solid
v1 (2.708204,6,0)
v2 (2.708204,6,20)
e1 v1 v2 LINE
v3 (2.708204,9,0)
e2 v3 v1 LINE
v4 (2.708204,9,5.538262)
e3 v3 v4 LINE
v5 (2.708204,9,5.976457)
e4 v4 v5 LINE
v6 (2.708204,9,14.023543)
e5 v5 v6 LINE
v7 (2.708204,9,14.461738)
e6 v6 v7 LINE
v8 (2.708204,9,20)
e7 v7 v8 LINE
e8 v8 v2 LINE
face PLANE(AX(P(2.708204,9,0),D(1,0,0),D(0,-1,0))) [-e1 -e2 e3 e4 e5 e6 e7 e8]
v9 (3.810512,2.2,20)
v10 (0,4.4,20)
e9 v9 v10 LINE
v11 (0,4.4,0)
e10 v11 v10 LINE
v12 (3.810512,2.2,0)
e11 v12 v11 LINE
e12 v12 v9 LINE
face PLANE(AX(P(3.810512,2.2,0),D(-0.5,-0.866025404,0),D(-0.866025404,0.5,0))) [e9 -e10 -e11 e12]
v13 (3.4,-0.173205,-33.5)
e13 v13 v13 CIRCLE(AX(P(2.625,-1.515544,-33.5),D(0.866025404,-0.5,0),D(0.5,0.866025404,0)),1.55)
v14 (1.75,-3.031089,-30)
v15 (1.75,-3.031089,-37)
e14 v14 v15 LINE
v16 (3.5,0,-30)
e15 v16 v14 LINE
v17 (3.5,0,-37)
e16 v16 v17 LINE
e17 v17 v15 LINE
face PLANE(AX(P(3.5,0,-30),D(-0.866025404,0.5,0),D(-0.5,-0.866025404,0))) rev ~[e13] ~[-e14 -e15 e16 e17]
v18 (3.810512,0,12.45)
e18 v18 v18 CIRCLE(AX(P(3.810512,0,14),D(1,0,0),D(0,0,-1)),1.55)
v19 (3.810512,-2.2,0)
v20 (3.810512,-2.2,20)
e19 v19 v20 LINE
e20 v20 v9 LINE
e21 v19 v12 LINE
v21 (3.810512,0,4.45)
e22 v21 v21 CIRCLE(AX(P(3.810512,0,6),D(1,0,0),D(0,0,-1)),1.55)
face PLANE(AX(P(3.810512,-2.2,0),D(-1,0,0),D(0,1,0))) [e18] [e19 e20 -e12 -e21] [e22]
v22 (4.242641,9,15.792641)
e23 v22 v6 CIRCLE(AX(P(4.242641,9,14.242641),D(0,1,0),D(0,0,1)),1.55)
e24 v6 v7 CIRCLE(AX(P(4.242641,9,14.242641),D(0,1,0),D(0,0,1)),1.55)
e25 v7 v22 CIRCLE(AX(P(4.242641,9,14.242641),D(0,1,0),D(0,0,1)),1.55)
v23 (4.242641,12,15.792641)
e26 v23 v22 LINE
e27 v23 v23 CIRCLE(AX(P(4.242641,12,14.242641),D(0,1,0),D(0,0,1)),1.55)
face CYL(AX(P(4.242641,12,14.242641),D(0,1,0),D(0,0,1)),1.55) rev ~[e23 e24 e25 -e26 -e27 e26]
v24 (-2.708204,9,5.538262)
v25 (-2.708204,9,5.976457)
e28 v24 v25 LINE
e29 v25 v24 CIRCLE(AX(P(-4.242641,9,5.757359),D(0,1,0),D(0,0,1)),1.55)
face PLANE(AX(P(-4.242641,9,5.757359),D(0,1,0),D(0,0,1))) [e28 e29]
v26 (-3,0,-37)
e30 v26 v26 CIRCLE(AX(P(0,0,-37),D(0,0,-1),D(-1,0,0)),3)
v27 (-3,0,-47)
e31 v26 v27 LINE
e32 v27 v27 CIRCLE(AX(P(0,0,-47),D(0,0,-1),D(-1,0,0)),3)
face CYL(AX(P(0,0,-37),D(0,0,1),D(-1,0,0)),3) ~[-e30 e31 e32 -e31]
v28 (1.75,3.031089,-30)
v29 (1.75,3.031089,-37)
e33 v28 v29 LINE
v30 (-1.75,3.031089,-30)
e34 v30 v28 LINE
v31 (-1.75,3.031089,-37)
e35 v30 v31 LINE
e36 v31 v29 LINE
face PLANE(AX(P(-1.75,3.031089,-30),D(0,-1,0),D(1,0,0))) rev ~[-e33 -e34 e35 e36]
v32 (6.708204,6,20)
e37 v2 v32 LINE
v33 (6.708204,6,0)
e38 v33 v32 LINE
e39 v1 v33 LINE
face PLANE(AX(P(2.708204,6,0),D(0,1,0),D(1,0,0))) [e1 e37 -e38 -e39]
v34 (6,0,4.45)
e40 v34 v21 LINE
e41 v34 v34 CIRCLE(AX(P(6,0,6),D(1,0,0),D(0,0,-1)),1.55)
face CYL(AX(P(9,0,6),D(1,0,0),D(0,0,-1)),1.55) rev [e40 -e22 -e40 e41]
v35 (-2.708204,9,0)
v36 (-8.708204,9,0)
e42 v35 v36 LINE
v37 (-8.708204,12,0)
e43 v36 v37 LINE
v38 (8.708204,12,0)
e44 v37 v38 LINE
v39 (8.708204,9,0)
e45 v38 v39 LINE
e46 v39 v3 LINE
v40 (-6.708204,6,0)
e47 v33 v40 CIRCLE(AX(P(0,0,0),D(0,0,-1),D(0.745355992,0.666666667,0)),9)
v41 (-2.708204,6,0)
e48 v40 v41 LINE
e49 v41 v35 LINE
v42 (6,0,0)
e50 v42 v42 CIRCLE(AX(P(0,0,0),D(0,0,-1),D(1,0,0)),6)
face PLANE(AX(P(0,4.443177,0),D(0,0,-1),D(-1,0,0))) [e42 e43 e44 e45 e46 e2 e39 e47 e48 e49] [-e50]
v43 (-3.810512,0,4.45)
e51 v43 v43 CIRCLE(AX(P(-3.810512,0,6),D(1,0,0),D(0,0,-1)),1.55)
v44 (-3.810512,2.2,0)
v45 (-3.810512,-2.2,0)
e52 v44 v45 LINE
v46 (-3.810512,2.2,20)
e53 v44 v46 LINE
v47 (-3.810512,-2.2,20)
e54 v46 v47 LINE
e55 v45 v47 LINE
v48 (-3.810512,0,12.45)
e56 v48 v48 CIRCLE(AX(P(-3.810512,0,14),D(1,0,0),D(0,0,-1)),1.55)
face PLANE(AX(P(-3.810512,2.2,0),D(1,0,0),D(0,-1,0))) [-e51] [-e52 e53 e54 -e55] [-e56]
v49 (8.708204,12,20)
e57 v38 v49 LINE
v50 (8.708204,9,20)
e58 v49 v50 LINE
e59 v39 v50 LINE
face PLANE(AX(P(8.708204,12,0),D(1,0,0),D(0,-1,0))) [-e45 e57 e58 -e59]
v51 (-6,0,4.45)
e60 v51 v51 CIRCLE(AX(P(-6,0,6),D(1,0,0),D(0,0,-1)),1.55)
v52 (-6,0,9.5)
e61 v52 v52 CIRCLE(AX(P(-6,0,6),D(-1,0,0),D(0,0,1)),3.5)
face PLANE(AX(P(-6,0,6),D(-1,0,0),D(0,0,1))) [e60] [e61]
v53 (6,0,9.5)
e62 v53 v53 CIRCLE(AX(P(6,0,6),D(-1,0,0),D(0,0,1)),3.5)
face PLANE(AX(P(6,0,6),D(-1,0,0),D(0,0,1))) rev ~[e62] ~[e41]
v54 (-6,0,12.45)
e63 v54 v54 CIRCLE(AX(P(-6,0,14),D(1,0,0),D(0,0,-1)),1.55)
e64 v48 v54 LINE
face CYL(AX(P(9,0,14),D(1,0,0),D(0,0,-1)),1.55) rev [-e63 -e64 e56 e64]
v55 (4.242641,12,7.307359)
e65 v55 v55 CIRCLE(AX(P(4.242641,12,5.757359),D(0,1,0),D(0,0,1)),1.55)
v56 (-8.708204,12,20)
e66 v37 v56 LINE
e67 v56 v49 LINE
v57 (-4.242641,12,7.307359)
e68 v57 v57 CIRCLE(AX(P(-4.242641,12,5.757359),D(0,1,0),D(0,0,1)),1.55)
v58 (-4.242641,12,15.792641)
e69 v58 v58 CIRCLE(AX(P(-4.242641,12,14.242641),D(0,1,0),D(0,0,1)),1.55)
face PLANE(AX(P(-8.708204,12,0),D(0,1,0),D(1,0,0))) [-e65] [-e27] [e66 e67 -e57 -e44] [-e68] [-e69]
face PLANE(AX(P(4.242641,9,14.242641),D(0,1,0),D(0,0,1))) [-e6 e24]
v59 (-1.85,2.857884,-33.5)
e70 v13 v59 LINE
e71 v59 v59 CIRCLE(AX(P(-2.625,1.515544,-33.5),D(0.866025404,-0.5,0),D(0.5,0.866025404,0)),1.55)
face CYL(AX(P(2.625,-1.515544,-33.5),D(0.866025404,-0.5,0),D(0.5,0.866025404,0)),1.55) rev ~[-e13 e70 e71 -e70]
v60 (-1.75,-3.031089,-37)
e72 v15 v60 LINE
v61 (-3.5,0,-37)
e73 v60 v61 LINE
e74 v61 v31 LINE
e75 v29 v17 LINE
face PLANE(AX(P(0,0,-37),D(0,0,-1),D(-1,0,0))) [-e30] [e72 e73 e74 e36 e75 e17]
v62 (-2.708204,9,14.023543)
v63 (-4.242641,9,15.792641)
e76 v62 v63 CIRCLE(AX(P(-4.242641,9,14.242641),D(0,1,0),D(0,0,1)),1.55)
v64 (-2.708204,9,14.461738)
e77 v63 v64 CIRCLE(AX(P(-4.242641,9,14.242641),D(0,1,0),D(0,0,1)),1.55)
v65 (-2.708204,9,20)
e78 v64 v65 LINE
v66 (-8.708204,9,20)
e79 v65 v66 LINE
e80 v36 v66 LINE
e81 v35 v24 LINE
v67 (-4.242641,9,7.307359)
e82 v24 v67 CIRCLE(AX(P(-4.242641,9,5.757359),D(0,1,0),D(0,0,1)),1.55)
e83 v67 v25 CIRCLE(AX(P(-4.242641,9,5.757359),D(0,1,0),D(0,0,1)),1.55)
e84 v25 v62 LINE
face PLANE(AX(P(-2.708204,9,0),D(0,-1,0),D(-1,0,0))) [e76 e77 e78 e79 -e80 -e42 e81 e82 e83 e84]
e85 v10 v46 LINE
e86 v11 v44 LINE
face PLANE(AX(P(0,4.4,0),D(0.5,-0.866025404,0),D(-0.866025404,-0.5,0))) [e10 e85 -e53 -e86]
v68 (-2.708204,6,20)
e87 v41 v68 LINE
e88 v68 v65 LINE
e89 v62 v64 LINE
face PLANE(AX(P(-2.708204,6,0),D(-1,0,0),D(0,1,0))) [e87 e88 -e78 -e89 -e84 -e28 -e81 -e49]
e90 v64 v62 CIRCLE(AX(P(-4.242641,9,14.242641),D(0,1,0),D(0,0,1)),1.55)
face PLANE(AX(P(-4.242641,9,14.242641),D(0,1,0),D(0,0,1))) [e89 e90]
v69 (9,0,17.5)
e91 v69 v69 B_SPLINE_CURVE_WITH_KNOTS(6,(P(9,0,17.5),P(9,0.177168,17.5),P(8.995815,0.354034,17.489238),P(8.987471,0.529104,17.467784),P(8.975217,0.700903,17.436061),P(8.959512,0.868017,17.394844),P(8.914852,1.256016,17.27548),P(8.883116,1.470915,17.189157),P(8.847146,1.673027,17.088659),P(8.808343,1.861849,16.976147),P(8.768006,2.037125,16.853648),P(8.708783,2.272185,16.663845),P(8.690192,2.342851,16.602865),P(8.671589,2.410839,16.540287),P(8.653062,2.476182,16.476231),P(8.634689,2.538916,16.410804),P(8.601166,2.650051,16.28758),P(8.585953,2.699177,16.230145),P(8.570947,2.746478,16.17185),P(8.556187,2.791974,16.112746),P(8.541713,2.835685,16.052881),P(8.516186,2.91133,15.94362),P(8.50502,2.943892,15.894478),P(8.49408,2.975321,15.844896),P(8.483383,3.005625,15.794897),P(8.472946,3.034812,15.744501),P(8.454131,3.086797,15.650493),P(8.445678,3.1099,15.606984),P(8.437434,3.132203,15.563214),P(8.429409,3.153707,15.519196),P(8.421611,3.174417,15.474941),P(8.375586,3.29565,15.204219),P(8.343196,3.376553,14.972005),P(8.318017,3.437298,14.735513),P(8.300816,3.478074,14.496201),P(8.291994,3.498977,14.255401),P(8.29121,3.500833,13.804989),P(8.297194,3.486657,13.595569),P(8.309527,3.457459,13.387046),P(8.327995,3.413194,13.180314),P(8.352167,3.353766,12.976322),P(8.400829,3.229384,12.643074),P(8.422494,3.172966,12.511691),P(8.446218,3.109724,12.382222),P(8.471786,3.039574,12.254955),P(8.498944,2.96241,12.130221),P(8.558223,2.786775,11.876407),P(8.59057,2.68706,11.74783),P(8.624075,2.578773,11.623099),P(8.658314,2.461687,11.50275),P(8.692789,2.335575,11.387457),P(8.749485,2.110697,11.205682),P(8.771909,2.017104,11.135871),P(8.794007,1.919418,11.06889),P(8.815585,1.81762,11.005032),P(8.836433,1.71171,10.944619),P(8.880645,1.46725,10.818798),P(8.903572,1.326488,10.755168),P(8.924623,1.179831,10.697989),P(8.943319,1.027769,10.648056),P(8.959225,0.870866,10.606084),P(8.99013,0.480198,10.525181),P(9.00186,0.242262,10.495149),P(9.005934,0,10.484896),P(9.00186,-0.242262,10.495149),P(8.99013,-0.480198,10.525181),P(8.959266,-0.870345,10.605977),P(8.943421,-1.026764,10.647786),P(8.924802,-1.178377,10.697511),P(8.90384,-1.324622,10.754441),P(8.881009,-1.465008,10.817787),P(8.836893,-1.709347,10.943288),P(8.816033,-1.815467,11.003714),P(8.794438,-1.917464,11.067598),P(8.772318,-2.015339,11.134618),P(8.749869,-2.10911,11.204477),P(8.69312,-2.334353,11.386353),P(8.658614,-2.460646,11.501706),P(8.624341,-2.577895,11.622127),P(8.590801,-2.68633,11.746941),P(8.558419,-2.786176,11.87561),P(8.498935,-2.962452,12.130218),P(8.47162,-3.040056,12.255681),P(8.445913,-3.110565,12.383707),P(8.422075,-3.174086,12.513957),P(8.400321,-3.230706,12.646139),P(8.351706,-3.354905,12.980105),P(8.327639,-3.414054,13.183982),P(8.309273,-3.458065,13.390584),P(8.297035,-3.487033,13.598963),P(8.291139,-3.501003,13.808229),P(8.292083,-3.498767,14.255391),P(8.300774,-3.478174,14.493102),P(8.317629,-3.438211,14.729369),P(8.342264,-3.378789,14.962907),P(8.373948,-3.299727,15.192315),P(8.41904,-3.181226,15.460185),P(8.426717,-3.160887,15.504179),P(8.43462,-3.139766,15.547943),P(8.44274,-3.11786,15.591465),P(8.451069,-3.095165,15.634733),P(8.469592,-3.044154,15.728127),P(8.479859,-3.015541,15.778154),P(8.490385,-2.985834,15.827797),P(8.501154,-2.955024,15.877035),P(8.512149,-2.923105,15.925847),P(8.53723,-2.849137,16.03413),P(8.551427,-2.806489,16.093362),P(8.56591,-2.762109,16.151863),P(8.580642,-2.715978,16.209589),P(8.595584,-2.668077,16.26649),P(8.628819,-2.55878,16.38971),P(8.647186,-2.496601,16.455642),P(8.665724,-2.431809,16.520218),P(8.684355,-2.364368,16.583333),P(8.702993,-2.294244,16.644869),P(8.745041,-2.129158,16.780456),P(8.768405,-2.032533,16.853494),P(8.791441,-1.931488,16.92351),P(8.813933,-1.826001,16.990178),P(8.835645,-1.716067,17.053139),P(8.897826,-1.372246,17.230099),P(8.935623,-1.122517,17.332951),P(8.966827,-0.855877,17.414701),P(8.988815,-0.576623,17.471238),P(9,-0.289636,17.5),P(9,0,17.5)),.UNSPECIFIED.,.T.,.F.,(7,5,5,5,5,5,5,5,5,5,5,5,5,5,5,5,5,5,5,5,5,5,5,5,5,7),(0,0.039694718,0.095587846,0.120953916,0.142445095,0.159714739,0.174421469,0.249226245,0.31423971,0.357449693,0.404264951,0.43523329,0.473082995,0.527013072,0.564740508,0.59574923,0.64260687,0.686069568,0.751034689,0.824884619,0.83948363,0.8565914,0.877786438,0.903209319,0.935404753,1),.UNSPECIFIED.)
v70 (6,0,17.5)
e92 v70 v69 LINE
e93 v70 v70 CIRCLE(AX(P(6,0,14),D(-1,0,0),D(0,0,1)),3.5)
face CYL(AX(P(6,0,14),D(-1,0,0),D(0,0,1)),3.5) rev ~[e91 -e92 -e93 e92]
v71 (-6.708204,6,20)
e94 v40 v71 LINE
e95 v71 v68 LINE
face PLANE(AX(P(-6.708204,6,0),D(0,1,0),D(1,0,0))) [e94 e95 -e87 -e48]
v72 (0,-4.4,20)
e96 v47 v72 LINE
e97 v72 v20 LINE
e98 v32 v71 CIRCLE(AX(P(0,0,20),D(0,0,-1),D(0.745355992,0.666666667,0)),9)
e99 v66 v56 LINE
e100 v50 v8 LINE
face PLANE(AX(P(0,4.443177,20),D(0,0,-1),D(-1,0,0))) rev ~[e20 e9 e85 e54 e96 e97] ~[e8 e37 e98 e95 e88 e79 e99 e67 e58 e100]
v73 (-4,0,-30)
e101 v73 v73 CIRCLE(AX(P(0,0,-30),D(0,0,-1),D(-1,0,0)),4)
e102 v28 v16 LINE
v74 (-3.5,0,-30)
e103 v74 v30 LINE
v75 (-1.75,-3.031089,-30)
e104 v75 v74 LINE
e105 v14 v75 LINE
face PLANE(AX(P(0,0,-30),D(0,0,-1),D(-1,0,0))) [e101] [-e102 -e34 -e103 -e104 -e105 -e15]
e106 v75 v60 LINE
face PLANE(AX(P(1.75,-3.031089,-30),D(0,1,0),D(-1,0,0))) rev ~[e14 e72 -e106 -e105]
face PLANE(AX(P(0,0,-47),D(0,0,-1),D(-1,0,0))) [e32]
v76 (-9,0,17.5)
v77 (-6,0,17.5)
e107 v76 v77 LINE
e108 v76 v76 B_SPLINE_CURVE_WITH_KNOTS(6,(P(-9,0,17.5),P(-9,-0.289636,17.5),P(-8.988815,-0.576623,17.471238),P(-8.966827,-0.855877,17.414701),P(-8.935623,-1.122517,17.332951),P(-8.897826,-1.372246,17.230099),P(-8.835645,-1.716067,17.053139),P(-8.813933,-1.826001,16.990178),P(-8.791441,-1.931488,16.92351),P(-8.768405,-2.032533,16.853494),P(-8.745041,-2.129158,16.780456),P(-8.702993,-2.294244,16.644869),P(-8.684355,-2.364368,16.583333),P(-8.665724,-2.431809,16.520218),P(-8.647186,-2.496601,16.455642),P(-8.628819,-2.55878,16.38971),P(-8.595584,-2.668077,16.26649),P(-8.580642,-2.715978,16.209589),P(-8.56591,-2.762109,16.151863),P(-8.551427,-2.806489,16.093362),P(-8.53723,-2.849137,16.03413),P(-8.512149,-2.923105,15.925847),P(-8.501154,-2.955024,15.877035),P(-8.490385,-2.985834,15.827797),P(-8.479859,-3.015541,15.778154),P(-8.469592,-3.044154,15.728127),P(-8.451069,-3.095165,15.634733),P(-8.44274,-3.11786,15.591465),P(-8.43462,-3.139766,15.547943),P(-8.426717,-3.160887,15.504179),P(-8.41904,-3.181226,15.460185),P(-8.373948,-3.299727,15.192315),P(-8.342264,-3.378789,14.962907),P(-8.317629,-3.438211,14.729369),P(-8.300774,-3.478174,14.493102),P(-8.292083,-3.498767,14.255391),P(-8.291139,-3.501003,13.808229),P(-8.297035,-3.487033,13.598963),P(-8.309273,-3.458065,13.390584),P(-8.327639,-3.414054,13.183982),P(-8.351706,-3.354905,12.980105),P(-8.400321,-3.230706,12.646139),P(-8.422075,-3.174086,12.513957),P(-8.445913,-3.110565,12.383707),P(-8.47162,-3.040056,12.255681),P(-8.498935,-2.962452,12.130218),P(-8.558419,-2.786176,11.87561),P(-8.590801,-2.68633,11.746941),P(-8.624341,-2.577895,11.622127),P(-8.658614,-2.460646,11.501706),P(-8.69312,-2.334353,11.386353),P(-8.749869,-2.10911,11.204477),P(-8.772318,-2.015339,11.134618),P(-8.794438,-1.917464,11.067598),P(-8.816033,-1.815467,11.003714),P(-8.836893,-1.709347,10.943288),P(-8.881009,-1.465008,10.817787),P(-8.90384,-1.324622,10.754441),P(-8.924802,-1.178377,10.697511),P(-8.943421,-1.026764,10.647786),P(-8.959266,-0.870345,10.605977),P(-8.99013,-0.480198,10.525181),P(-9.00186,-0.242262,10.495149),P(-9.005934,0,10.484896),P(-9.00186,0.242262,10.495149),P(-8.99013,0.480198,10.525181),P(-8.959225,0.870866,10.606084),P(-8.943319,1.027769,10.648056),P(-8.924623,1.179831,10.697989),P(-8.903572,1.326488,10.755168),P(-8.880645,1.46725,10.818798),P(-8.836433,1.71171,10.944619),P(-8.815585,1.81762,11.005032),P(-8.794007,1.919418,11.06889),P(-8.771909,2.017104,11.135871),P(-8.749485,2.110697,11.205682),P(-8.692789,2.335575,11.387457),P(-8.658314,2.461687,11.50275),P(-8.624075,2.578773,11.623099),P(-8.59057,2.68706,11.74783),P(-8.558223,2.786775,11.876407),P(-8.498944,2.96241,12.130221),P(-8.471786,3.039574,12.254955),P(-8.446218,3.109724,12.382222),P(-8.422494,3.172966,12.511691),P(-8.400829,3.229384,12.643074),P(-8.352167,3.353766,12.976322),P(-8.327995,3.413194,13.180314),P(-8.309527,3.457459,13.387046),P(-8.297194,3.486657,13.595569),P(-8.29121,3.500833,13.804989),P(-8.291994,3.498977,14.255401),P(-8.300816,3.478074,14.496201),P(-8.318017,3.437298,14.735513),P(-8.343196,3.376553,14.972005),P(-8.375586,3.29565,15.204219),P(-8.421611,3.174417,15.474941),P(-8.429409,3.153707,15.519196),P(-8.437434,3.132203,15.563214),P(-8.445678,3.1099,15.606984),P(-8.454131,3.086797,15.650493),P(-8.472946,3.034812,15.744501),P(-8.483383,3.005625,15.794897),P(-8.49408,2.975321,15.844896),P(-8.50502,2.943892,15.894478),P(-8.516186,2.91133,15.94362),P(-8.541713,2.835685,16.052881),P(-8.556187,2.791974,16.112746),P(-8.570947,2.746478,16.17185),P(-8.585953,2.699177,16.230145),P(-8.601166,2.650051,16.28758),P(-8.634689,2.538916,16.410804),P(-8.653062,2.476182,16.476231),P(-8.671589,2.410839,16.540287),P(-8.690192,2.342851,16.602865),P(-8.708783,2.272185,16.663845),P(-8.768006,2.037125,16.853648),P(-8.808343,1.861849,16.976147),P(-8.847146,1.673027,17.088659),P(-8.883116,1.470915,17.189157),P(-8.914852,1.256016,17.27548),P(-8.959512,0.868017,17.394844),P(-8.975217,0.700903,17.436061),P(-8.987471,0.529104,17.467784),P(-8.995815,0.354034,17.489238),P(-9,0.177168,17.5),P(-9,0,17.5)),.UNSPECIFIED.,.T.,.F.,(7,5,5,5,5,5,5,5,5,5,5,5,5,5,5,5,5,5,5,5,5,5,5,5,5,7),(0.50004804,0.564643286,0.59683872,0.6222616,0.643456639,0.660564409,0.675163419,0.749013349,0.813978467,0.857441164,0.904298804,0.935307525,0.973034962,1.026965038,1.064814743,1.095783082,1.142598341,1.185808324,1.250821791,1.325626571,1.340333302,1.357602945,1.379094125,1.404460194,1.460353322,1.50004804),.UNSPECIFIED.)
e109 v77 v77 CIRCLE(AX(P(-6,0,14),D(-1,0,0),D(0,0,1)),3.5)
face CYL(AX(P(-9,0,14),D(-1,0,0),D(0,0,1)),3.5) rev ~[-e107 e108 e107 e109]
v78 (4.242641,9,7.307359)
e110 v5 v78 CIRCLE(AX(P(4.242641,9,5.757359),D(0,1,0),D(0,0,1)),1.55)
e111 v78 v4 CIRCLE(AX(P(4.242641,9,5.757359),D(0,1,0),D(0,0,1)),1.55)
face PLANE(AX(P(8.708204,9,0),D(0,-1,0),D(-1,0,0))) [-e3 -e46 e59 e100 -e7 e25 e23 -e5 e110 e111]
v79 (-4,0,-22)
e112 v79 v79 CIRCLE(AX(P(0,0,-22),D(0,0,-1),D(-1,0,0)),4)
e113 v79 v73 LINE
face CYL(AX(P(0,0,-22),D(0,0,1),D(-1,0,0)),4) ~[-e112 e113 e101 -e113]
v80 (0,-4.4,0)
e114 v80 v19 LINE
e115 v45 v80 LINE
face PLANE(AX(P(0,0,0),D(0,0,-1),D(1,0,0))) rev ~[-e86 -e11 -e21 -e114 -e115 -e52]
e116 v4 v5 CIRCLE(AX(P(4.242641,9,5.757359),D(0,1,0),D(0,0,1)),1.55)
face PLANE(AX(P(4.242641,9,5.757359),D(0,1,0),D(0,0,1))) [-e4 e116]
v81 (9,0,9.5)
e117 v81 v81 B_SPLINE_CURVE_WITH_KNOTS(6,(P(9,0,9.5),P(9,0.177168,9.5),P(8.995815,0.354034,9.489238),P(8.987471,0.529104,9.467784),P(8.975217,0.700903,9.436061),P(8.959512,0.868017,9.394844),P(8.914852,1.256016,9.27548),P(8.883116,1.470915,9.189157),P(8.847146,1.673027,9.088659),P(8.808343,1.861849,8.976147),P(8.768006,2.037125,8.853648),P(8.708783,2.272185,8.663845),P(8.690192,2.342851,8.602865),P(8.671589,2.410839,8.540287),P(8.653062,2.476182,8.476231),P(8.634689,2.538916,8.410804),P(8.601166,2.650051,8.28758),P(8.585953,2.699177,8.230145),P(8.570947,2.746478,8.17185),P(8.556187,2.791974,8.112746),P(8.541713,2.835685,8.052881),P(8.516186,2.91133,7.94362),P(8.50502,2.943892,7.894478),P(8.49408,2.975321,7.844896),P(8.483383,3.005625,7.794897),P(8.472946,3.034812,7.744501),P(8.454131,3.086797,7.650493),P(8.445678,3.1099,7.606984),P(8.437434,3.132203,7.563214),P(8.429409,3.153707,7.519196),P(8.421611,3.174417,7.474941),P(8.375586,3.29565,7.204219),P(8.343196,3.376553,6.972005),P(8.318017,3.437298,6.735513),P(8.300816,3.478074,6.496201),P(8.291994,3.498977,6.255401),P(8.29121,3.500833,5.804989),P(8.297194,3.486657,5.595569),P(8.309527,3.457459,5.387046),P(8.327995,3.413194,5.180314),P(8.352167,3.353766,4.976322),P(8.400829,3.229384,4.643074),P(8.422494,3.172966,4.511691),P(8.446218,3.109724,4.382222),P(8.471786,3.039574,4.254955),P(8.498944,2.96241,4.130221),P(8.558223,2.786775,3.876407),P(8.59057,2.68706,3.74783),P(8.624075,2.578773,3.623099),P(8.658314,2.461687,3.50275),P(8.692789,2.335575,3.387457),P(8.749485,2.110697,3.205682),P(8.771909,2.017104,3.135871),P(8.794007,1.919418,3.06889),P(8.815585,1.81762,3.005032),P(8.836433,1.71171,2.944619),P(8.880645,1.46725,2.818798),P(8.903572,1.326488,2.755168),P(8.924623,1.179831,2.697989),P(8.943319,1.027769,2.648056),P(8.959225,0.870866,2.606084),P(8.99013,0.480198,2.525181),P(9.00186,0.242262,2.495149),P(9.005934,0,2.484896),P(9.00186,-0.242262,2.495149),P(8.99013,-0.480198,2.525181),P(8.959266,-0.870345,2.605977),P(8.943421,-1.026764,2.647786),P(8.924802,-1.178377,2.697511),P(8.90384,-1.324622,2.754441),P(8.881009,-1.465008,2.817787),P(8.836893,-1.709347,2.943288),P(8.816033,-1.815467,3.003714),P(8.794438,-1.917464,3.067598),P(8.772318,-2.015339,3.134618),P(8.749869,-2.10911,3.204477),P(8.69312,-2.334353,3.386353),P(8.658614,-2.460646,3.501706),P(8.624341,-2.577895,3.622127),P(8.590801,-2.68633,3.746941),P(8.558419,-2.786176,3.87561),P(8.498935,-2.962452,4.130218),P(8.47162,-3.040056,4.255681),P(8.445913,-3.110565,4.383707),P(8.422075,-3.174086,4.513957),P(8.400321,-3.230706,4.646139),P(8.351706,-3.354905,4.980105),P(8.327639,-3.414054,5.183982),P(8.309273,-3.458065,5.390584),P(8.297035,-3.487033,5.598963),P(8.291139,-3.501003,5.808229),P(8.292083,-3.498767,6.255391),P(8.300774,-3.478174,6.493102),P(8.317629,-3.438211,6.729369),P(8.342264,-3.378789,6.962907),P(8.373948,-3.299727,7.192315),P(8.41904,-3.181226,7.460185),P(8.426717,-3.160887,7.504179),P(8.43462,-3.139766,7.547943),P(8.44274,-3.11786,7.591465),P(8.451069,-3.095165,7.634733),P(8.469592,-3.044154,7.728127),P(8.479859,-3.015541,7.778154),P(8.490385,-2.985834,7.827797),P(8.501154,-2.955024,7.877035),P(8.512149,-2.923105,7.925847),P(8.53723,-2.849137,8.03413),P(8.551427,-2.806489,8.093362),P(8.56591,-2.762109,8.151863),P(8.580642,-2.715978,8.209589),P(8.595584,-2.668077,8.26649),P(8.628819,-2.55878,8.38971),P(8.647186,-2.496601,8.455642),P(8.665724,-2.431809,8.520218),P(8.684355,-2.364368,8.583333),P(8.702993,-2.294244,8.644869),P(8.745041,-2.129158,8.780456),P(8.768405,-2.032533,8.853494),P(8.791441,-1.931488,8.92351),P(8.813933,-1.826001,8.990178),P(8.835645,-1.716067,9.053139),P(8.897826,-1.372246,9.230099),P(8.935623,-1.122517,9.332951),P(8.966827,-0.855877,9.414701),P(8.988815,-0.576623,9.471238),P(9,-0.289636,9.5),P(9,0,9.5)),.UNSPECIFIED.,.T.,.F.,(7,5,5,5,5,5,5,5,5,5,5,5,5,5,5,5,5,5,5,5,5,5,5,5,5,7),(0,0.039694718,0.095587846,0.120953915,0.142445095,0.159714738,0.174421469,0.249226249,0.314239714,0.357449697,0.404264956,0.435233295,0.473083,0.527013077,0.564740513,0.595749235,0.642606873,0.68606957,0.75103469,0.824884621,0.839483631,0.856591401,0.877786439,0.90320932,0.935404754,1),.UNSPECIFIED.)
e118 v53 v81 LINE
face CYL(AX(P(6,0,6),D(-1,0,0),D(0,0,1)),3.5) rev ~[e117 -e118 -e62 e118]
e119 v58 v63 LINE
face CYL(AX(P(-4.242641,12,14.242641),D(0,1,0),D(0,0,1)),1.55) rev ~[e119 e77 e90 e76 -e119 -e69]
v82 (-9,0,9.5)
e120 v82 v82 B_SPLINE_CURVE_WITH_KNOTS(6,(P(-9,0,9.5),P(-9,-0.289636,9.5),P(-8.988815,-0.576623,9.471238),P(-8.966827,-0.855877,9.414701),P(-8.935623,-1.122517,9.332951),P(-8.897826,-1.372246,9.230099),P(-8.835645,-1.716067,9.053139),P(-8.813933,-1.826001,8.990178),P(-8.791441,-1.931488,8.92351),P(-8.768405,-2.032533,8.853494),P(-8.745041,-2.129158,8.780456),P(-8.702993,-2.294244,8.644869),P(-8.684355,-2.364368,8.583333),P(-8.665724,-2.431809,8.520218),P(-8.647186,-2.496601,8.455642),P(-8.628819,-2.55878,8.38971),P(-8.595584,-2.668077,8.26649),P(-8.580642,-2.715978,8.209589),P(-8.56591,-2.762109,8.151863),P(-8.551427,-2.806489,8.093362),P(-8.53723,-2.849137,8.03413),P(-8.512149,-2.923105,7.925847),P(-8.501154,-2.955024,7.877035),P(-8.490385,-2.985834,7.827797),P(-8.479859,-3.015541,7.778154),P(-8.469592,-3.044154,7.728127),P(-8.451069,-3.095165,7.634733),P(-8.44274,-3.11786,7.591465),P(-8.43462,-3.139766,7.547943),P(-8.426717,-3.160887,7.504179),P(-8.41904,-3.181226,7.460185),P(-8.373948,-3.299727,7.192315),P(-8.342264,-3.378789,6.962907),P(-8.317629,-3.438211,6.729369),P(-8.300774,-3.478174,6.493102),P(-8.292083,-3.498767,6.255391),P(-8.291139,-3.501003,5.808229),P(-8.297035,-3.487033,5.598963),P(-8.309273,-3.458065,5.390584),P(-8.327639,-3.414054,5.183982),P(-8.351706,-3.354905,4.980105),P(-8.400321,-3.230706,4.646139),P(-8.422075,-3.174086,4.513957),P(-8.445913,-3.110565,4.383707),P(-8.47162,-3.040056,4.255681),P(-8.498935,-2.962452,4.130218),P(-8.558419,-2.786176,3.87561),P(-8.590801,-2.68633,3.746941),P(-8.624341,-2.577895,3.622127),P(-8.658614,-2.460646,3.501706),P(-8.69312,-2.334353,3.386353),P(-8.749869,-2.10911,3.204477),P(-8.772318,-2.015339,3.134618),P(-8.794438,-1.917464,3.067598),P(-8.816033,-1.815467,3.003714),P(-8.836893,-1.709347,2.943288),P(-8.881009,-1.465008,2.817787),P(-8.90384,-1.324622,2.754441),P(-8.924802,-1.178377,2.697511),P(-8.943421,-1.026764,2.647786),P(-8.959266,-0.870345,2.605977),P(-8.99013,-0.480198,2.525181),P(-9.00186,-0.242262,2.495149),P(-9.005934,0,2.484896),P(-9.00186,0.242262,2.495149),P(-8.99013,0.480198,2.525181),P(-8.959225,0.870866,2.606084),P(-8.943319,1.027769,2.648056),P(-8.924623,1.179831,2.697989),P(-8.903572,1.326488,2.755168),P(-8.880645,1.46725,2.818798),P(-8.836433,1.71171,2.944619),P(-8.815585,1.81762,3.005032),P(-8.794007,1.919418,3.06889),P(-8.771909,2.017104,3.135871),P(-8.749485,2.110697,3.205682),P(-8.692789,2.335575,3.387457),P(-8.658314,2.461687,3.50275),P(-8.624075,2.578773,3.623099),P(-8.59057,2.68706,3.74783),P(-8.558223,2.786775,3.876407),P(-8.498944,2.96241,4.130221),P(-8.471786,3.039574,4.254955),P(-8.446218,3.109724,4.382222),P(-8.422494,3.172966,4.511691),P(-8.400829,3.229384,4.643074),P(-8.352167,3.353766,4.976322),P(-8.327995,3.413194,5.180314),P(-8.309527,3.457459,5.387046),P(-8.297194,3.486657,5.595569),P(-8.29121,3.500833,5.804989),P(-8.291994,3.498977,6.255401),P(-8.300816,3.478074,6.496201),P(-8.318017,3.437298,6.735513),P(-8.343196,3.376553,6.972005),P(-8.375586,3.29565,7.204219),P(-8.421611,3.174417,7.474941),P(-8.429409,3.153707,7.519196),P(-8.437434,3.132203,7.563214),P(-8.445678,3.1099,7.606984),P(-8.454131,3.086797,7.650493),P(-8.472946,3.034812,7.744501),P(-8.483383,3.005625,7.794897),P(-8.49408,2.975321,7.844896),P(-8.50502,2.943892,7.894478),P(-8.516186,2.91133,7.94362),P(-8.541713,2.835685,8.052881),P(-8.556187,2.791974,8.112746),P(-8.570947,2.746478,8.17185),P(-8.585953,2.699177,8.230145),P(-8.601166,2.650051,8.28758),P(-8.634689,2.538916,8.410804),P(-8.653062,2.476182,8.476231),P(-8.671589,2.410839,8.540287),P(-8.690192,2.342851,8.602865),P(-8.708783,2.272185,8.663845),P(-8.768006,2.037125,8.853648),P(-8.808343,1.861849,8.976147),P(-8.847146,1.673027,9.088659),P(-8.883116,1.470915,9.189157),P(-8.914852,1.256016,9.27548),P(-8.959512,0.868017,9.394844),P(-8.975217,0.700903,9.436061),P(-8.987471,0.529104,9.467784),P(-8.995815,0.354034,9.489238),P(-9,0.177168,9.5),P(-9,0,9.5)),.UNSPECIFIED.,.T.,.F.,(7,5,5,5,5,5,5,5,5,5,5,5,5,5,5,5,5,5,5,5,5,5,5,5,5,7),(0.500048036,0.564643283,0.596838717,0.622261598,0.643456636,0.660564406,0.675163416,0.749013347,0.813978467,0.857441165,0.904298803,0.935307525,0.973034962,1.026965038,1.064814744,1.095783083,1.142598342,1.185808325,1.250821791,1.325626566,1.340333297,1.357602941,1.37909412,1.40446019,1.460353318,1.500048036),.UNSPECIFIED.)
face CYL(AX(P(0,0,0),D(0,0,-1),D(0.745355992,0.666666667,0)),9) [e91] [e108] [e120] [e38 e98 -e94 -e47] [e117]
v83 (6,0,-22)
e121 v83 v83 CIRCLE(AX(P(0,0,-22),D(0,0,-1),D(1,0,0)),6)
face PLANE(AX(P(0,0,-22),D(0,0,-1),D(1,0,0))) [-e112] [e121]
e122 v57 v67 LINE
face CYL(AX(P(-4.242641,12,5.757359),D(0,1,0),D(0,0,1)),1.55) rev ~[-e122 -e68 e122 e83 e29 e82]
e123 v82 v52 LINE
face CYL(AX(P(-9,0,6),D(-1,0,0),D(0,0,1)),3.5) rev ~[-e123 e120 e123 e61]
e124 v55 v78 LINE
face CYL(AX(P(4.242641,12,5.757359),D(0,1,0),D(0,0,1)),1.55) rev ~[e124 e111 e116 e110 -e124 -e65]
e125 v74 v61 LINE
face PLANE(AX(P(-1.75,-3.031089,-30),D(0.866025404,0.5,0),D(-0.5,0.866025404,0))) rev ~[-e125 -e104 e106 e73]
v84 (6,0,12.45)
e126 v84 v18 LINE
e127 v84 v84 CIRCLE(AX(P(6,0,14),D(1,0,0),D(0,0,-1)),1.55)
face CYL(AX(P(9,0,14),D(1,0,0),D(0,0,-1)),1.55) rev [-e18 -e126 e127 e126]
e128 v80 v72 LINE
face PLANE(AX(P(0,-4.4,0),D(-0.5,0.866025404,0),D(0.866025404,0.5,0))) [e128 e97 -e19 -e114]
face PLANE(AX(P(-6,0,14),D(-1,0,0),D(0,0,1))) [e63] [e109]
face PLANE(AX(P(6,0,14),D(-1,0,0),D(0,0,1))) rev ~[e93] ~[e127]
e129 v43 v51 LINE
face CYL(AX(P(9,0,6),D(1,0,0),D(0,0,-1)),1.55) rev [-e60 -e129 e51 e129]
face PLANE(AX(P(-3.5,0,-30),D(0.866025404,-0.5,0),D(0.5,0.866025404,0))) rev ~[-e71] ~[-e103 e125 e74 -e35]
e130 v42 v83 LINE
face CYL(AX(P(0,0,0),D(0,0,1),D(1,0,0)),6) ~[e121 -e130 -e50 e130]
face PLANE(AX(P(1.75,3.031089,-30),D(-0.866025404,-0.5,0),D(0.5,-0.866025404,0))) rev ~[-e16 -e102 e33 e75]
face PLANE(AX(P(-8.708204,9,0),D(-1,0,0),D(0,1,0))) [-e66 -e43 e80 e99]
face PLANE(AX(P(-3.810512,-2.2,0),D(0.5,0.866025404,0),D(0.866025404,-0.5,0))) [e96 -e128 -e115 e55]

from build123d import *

# Parameters (mm, degrees)
BOSS_EXTRUDE1_DEPTH     = 20
CUT_EXTRUDE1_DEPTH      = 9
CUT_EXTRUDE1_DEPTH_BACK = 9
SKETCH8_R               = 1.55
SKETCH11_R              = 6
BOSS_EXTRUDE12_DEPTH    = 22
SKETCH12_R              = 4
BOSS_EXTRUDE13_DEPTH    = 8
BOSS_EXTRUDE14_DEPTH    = 7
SKETCH14_R              = 1.55
CUT_EXTRUDE2_DEPTH      = 6.1
SKETCH15_R              = 3
BOSS_EXTRUDE15_DEPTH    = 10
CUT_EXTRUDE5_START      = 9
SKETCH16_R              = 3.5
CUT_EXTRUDE5_DEPTH      = 3
CUT_EXTRUDE6_START      = -6
SKETCH16_2_R            = 3.5
CUT_EXTRUDE6_DEPTH      = 3
SKETCH17_R              = 1.55
CUT_EXTRUDE7_DEPTH      = 3


with BuildPart() as part:
    # Sketch1 → Boss-Extrude1 (new body)
    with BuildSketch(Plane.XY):
        with BuildLine():
            Line((-8.708203932, 12), (8.708203932, 12))
            Line((8.708203932, 12), (8.708203932, 9))
            Line((8.708203932, 9), (2.708203932, 9))
            Line((2.708203932, 9), (2.708203932, 6))
            Line((2.708203932, 6), (6.708203932, 6))
            ThreePointArc((6.708203932, 6), (0, -9), (-6.708203932, 6))
            Line((-6.708203932, 6), (-2.708203932, 6))
            Line((-2.708203932, 6), (-2.708203932, 9))
            Line((-2.708203932, 9), (-8.708203932, 9))
            Line((-8.708203932, 9), (-8.708203932, 12))
        make_face()
        Polygon((0, 4.4), (-3.810511777, 2.2), (-3.810511777, -2.2), (0, -4.4), (3.810511777, -2.2), (3.810511777, 2.2), align=None, mode=Mode.SUBTRACT)
    extrude(amount=BOSS_EXTRUDE1_DEPTH)

    # Sketch8 → Cut-Extrude1 (cut, two sides: drawn at the far end of the back side and taken through both)
    with BuildSketch(Plane.ZY.offset(-CUT_EXTRUDE1_DEPTH_BACK)):
        with Locations(Location((6, 0, 0), (0, 0, 180))):
            Circle(SKETCH8_R)
        with Locations(Location((14, 0, 0), (0, 0, 180))):
            Circle(SKETCH8_R)
    extrude(amount=CUT_EXTRUDE1_DEPTH + CUT_EXTRUDE1_DEPTH_BACK, mode=Mode.SUBTRACT)

    # Sketch11 → Boss-Extrude12 (add)
    with BuildSketch(Plane(origin=(0, 0, 0), x_dir=(-1, 0, 0), z_dir=(0, 0, -1))):
        with Locations(Location((0, 0, 0), (0, 0, 180))):
            Circle(SKETCH11_R)
    extrude(amount=BOSS_EXTRUDE12_DEPTH)

    # Sketch12 → Boss-Extrude13 (add)
    with BuildSketch(Plane(origin=(0, 0, -22), x_dir=(-1, 0, 0), z_dir=(0, 0, -1))):
        Circle(SKETCH12_R)
    extrude(amount=BOSS_EXTRUDE13_DEPTH)

    # Sketch13 → Boss-Extrude14 (add)
    with BuildSketch(Plane(origin=(0, 0, -30), x_dir=(-1, 0, 0), z_dir=(0, 0, -1))):
        Polygon((1.75, 3.031088913), (-1.75, 3.031088913), (-3.5, 0), (-1.75, -3.031088913), (1.75, -3.031088913), (3.5, 0), align=None)
    extrude(amount=BOSS_EXTRUDE14_DEPTH)

    # Sketch14 → Cut-Extrude2 (cut)
    with BuildSketch(Plane(origin=(2.625, -1.515544457, 0), x_dir=(0, 0, -1), z_dir=(0.8660254037844379, -0.5000000000000011, 0))):
        with Locations(Location((33.5, 0, 0), (0, 0, 90))):
            Circle(SKETCH14_R)
    extrude(amount=-CUT_EXTRUDE2_DEPTH, mode=Mode.SUBTRACT)

    # Sketch15 → Boss-Extrude15 (add)
    with BuildSketch(Plane(origin=(0, 0, -37), x_dir=(-1, 0, 0), z_dir=(0, 0, -1))):
        Circle(SKETCH15_R)
    extrude(amount=BOSS_EXTRUDE15_DEPTH)

    # Sketch16 → Cut-Extrude5 (cut)
    with BuildSketch(Plane.ZY.offset(CUT_EXTRUDE5_START)):
        with Locations((6, 0)):
            Circle(SKETCH16_R)
        with Locations((14, 0)):
            Circle(SKETCH16_R)
    extrude(amount=-CUT_EXTRUDE5_DEPTH, mode=Mode.SUBTRACT)

    # Sketch16<2> → Cut-Extrude6 (cut)
    with BuildSketch(Plane.ZY.offset(CUT_EXTRUDE6_START)):
        with Locations((6, 0)):
            Circle(SKETCH16_2_R)
        with Locations((14, 0)):
            Circle(SKETCH16_2_R)
    extrude(amount=-CUT_EXTRUDE6_DEPTH, mode=Mode.SUBTRACT)

    # Sketch17 → Cut-Extrude7 (cut)
    with BuildSketch(Plane(origin=(0, 12, 0), x_dir=(1, 0, 0), z_dir=(0, 1, 0))):
        with Locations(Location((-4.242640687, -5.757359313, 0), (0, 0, 270))):
            Circle(SKETCH17_R)
        with Locations(Location((4.242640687, -5.757359313, 0), (0, 0, 270))):
            Circle(SKETCH17_R)
        with Locations(Location((4.242640687, -14.242640687, 0), (0, 0, 270))):
            Circle(SKETCH17_R)
        with Locations(Location((-4.242640687, -14.242640687, 0), (0, 0, 270))):
            Circle(SKETCH17_R)
    extrude(amount=-CUT_EXTRUDE7_DEPTH, mode=Mode.SUBTRACT)


solid = part.part
